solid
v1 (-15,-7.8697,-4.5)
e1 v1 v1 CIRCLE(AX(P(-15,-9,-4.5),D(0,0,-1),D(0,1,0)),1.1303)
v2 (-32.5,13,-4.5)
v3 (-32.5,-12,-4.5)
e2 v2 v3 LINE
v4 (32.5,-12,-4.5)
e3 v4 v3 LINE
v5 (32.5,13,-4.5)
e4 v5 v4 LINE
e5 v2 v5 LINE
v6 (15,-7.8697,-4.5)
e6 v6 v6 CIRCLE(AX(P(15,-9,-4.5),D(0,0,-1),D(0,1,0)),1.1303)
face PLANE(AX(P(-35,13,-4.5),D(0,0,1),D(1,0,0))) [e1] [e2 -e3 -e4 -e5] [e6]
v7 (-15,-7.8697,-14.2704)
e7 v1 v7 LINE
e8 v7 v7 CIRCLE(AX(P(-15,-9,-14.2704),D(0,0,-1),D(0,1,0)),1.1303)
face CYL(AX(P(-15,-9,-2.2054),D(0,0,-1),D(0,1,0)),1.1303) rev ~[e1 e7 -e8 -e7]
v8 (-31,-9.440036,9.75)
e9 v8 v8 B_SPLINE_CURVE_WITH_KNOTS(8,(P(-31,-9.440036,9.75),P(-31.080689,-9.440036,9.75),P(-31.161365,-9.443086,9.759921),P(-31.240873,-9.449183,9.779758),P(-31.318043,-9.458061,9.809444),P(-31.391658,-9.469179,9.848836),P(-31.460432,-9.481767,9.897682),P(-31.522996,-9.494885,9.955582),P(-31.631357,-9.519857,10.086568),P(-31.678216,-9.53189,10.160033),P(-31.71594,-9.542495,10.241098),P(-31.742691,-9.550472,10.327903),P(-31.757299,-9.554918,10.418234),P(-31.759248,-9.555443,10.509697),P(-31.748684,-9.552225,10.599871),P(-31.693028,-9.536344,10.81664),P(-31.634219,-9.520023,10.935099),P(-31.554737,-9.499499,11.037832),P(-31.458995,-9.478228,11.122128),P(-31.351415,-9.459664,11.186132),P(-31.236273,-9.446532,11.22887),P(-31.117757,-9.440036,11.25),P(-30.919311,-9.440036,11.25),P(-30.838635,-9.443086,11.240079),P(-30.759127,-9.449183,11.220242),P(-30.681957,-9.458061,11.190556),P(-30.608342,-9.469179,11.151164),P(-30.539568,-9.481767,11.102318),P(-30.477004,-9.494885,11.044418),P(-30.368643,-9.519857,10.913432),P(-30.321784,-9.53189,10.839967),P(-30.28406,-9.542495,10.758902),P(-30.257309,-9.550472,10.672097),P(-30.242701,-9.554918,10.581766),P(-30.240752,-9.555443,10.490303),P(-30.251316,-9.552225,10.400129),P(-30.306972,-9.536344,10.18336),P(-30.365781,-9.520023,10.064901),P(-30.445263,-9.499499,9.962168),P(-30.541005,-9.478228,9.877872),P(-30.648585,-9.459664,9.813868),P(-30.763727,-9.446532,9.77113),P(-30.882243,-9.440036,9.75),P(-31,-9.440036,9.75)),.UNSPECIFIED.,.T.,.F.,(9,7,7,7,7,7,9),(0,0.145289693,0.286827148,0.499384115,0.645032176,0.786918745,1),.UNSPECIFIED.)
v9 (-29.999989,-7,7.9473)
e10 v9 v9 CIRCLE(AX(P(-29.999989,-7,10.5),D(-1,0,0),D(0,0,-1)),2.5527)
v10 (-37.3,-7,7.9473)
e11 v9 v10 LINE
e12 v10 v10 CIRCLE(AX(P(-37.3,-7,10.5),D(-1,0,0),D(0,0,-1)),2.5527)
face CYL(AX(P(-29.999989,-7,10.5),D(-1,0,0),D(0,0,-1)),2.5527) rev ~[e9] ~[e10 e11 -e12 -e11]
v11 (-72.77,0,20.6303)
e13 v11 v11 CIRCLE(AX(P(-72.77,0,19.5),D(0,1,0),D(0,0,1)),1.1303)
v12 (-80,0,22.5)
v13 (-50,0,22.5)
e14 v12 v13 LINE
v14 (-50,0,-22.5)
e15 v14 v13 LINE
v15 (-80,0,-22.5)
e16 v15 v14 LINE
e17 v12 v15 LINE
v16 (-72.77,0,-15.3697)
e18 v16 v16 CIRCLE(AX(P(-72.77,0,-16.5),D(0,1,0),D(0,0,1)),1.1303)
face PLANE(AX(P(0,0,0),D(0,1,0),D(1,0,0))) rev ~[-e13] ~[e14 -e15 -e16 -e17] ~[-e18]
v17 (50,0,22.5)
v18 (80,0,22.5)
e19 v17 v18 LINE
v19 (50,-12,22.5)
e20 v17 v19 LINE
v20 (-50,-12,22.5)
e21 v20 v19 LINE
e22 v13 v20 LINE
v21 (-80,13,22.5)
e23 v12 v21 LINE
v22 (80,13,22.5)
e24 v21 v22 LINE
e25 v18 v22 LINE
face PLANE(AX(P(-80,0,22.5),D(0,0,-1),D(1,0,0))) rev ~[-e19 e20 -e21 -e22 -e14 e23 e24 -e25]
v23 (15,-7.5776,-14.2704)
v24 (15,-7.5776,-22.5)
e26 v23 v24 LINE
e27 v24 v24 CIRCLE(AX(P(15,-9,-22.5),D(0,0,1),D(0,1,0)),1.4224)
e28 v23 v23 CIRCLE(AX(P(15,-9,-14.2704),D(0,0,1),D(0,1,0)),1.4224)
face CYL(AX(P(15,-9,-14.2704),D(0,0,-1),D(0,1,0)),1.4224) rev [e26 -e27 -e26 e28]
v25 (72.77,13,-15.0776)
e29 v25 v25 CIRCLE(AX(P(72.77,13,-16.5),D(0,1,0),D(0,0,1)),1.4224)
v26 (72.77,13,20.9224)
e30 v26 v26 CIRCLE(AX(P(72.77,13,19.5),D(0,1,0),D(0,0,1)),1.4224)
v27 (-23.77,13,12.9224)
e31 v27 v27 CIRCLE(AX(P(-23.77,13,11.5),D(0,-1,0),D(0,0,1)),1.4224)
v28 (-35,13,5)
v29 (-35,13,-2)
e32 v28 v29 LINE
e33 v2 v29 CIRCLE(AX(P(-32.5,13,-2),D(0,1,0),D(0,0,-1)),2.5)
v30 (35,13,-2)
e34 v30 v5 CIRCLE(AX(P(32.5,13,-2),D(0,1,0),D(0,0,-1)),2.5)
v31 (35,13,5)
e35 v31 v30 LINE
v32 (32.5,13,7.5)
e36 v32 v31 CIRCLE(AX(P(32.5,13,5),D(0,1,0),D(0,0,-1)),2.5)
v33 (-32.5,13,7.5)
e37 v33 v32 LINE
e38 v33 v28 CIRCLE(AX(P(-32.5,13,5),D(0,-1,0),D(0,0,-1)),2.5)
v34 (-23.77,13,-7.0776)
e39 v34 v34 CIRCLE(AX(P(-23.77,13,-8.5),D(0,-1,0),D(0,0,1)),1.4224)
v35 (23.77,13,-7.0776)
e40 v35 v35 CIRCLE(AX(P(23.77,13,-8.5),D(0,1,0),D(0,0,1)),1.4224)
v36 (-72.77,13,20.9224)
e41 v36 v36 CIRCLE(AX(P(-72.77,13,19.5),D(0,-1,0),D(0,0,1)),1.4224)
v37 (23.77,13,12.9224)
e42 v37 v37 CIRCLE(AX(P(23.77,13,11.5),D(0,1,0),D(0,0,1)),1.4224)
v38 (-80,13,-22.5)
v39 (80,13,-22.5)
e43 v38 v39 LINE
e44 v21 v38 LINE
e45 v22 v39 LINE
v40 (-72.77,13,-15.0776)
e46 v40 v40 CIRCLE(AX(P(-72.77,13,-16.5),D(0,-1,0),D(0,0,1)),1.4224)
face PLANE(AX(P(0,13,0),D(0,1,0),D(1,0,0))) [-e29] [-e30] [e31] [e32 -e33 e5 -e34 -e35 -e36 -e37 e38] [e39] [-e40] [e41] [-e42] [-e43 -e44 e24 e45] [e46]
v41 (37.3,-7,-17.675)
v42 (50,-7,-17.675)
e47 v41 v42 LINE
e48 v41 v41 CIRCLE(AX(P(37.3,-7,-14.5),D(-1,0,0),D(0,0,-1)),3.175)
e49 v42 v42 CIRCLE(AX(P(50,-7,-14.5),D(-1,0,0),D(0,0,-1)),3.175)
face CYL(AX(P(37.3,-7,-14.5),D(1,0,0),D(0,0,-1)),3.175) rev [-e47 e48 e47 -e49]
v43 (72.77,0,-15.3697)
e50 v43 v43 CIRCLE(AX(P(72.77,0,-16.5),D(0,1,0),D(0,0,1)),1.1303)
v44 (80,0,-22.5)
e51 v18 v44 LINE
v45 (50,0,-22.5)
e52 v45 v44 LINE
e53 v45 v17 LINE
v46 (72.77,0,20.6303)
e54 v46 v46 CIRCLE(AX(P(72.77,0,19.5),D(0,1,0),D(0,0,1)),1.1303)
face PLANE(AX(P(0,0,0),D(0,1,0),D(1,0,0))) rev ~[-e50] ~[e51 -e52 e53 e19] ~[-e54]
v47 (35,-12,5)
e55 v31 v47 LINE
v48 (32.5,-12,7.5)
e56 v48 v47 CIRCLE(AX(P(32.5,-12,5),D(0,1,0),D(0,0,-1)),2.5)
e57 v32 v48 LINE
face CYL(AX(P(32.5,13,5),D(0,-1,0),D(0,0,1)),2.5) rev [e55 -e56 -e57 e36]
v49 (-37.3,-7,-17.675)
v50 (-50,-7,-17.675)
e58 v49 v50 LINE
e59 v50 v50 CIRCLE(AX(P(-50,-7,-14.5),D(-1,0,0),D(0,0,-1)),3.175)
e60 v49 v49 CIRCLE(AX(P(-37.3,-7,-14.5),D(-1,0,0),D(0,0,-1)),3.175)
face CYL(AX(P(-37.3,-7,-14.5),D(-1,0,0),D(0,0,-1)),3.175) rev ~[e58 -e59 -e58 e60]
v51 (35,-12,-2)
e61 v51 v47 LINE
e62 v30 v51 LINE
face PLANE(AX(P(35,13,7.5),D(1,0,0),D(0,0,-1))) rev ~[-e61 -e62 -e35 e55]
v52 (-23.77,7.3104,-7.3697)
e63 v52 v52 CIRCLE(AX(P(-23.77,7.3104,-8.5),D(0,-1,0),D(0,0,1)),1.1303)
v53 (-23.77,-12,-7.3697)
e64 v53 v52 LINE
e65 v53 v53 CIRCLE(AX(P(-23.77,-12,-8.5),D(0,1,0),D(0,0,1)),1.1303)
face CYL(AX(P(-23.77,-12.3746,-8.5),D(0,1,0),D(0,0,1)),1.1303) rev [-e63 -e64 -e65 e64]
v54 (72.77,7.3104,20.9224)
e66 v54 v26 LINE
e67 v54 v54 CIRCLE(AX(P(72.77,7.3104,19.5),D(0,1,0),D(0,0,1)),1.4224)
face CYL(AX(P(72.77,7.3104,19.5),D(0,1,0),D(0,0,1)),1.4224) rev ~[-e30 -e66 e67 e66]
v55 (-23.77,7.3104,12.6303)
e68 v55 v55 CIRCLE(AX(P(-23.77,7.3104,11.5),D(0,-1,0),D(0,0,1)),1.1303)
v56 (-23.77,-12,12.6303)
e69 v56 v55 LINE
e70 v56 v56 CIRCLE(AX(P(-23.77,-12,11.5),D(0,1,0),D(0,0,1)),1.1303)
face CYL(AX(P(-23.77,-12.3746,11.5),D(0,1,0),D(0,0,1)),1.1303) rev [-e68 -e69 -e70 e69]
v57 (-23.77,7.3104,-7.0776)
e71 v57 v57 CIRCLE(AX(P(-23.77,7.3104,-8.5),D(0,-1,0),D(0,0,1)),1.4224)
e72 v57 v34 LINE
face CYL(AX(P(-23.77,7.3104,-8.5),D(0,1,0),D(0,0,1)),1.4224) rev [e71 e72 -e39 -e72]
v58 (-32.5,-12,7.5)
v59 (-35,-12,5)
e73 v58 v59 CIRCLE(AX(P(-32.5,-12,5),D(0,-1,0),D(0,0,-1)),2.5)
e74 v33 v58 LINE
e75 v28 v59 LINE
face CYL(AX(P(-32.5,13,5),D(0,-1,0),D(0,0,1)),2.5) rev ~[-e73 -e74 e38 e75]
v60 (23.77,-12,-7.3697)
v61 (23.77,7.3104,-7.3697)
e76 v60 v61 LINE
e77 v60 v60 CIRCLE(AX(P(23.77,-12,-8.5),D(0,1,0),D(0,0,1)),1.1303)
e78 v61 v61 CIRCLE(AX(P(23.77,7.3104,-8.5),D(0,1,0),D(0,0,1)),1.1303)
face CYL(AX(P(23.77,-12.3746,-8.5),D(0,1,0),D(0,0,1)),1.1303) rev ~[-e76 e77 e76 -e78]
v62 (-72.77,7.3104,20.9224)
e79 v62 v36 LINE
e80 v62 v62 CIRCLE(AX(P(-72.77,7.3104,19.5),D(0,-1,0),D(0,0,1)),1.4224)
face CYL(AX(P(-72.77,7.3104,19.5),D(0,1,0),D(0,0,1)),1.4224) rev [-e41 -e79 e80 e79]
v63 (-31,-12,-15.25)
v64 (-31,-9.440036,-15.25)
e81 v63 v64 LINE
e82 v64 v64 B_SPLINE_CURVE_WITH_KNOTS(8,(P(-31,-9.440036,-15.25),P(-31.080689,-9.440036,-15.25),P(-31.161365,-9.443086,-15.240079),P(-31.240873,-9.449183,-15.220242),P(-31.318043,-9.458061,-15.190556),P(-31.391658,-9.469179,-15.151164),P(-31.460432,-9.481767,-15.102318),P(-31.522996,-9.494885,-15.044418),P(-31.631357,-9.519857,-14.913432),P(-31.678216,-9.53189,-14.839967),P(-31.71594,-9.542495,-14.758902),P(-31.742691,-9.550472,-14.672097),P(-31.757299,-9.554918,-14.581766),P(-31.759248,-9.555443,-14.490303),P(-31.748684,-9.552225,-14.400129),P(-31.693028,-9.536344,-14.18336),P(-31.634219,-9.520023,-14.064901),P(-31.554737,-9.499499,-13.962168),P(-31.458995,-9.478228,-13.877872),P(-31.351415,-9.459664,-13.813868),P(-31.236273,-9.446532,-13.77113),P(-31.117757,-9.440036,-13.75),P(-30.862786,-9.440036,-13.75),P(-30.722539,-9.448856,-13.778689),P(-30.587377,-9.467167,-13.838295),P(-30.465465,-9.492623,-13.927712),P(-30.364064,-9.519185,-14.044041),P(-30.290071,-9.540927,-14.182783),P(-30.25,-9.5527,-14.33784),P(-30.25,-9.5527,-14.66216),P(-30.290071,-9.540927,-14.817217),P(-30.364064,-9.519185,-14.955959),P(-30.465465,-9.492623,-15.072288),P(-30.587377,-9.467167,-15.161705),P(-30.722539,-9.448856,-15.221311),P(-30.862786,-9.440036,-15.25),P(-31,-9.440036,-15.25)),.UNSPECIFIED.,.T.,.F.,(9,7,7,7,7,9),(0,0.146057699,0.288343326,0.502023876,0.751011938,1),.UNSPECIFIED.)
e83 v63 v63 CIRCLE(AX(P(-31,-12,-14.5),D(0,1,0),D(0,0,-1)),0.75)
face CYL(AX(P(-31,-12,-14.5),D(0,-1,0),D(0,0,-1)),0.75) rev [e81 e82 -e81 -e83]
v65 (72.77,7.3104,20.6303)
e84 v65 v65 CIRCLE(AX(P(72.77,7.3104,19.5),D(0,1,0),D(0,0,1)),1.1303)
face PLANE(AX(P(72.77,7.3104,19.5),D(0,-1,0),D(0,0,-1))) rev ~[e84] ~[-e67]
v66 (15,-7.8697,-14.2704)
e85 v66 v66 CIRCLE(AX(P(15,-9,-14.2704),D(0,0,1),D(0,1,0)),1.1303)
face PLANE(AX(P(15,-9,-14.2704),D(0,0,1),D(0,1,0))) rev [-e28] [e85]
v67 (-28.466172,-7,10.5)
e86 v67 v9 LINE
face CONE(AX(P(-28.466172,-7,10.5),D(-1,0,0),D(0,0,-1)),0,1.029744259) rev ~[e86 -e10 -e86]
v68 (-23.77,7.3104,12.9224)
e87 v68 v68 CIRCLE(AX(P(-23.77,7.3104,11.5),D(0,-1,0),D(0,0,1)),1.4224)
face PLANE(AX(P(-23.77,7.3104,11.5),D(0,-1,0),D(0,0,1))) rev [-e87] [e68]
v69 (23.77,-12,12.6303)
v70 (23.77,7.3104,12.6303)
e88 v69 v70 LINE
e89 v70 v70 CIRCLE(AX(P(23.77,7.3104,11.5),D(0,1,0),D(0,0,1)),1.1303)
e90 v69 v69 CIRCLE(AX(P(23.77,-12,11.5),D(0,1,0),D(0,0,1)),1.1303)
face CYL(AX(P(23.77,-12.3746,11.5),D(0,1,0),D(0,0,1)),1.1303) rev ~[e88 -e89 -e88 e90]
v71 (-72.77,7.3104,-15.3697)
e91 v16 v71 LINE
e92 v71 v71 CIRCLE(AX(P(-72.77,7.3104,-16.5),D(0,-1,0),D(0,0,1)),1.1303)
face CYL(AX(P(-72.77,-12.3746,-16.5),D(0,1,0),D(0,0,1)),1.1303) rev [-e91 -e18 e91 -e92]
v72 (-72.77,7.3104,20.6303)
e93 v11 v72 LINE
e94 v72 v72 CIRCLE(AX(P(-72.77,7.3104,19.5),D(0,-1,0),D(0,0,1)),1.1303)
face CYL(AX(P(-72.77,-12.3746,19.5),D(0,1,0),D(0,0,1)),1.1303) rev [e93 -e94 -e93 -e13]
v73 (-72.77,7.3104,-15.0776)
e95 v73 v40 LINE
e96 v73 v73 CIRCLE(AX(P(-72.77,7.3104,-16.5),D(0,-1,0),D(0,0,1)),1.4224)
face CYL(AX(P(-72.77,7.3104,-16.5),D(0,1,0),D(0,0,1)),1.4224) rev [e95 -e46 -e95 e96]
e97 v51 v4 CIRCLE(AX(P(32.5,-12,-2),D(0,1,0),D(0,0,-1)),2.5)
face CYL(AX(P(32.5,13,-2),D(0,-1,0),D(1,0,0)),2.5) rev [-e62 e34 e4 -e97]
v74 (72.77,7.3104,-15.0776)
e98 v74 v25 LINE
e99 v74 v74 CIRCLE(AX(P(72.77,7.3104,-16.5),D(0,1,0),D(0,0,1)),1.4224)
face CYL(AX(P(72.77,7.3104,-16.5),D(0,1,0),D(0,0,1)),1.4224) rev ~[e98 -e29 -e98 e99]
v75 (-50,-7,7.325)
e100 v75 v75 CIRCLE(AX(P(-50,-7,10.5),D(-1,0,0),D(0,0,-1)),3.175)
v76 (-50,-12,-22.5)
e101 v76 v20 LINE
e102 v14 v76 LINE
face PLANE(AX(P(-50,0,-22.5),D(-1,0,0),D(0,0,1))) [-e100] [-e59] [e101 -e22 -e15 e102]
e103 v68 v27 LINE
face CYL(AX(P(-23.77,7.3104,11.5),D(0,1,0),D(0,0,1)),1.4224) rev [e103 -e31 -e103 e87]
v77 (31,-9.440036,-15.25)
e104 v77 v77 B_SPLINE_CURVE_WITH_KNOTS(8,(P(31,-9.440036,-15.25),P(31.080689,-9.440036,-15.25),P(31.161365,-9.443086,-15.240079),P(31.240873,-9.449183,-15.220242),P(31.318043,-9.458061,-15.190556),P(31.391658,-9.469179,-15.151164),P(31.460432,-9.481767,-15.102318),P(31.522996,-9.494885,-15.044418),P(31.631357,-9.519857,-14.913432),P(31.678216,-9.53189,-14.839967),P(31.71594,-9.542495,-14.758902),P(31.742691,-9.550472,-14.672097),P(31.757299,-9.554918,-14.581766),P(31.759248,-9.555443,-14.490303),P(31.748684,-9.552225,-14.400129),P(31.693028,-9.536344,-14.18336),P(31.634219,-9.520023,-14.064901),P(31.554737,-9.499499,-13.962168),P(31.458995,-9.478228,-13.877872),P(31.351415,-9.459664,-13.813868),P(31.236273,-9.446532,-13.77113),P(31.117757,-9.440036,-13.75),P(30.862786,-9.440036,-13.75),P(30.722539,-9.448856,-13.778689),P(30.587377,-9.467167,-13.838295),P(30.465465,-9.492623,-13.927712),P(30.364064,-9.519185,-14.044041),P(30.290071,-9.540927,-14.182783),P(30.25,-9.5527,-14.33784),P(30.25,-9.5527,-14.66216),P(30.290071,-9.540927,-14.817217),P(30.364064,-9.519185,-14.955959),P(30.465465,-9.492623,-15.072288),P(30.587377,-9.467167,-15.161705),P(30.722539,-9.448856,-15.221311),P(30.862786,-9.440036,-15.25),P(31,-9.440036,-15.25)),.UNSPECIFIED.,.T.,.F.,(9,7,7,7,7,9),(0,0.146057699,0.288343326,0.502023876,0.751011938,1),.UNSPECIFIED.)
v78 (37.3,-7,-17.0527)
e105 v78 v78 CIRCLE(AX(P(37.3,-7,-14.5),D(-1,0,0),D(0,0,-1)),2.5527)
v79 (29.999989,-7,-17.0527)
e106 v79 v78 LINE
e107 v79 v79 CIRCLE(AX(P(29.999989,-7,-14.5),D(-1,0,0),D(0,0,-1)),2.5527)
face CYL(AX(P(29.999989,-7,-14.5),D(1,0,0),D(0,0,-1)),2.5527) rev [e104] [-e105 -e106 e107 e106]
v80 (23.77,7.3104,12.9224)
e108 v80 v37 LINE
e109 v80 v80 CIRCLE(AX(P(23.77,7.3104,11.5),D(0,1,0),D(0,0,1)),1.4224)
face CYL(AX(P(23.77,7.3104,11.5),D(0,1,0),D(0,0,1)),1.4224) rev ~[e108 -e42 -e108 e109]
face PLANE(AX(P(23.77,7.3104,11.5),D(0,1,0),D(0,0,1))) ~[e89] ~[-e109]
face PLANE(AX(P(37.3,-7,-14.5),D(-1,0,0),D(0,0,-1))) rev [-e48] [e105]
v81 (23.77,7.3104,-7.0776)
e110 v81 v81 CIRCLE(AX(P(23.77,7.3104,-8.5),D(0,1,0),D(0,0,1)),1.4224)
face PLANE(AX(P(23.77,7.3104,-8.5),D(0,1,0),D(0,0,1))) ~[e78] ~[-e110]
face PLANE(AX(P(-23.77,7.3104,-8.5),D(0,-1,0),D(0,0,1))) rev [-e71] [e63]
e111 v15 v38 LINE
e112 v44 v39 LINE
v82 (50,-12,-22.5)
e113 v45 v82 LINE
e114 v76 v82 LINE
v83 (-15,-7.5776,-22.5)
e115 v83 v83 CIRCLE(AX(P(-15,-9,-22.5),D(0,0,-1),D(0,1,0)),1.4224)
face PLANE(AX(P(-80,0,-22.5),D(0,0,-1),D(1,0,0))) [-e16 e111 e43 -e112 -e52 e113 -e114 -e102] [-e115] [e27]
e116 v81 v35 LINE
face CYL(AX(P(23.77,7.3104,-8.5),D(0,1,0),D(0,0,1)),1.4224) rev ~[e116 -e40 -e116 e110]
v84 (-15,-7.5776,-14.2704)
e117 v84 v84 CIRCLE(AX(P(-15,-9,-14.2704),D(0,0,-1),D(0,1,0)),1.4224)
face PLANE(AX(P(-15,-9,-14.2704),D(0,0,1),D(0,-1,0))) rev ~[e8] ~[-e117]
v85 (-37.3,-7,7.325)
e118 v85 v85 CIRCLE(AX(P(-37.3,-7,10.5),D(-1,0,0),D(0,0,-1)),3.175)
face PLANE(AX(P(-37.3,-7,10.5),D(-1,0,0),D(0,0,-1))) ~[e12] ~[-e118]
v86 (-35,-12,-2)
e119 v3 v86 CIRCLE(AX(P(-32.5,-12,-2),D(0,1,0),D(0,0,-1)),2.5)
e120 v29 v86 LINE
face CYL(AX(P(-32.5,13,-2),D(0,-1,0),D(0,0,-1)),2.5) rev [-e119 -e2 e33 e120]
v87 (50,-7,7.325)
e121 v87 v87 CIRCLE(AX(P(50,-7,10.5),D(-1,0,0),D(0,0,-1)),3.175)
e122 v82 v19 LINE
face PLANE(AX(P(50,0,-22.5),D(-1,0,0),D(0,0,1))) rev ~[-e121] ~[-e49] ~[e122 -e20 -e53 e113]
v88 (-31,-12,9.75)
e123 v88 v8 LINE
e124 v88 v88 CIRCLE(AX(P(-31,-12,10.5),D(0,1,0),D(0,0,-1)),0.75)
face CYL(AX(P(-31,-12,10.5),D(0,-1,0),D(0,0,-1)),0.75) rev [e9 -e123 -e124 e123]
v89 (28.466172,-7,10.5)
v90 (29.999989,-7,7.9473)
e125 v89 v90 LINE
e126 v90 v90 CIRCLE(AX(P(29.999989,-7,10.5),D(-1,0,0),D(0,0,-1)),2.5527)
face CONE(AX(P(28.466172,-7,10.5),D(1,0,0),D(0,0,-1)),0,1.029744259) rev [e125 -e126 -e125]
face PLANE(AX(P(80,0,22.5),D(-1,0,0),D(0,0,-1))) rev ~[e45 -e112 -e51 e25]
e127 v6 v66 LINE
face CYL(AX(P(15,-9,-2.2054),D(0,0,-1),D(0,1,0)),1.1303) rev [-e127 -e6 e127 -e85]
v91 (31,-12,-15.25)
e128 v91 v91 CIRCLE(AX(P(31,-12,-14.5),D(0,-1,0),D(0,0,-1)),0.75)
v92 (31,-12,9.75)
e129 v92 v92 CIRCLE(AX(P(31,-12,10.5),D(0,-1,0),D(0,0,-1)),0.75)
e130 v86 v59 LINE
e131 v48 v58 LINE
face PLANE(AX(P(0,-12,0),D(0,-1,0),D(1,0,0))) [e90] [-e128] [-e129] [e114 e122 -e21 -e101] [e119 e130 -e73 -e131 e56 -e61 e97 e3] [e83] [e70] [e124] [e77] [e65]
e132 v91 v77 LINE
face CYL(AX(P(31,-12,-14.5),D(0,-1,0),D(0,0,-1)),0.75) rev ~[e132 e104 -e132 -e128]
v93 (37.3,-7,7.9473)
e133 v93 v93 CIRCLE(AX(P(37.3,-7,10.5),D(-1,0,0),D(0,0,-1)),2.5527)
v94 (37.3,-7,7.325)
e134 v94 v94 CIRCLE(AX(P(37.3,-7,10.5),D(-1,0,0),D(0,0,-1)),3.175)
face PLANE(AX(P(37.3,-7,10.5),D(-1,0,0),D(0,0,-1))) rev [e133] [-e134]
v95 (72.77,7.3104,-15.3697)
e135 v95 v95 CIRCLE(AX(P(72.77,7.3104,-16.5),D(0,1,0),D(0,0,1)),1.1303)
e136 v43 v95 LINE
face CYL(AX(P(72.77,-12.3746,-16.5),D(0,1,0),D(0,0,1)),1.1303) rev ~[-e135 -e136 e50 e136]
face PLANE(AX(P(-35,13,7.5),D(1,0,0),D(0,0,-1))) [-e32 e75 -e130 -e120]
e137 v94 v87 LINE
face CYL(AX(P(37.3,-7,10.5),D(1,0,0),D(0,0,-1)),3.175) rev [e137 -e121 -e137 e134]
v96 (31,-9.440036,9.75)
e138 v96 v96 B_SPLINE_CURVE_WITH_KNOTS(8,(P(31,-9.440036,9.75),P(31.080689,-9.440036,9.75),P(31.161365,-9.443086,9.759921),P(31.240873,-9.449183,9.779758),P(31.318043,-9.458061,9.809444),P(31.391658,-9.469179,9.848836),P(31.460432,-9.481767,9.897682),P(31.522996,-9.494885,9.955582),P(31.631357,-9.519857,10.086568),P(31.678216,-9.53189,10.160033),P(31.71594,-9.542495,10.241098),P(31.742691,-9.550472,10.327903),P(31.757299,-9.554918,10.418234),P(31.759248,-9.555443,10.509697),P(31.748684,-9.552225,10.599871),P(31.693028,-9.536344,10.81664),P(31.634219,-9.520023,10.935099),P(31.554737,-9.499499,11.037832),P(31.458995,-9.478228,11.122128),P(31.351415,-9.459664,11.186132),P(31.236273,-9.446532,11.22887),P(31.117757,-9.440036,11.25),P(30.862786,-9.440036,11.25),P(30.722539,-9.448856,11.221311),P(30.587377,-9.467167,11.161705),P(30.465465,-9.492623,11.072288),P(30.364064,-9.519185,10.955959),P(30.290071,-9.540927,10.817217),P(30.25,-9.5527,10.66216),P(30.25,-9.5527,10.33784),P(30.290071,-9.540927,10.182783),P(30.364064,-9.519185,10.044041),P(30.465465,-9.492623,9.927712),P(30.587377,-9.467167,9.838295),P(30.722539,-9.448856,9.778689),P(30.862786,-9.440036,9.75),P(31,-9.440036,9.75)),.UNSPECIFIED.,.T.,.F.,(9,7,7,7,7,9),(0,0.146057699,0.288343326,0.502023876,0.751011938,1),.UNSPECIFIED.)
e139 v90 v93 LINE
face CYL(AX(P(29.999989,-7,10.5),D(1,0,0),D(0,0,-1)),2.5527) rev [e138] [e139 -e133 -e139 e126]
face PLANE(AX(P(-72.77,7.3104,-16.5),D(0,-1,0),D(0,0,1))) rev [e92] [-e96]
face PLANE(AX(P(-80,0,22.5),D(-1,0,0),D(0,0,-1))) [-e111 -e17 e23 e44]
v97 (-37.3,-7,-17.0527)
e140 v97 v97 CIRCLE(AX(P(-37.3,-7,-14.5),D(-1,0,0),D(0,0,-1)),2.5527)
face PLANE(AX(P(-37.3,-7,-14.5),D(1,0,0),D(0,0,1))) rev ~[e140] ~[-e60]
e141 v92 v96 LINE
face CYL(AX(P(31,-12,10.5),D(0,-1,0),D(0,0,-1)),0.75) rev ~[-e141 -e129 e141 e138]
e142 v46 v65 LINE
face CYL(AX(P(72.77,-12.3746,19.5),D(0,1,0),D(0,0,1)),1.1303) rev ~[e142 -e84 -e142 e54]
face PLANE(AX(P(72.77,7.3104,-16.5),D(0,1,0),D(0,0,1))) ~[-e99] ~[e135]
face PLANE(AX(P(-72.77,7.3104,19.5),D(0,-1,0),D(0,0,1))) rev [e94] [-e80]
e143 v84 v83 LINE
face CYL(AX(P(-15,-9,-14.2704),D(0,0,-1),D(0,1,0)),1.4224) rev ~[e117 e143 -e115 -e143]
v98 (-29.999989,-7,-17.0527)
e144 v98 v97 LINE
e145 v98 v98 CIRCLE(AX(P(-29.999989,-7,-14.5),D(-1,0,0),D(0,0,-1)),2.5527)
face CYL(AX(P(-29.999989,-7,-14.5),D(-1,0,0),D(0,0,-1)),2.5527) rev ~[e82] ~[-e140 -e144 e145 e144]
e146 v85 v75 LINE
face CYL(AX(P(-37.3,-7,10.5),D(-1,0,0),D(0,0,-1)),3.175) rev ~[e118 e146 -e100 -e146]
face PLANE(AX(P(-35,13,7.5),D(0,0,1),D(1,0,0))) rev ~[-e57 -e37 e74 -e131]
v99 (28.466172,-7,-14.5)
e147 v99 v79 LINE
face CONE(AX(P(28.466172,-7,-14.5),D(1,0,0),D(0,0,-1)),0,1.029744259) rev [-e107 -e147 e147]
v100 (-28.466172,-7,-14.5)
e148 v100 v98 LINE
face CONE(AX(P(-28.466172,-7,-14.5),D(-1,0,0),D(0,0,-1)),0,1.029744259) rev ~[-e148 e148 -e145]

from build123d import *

# Parameters (mm, degrees)
SKETCH1_W                        = 160
SKETCH1_H                        = 45
EXTRUDE1_DEPTH                   = 13
SKETCH2_W                        = 100
SKETCH2_H                        = 45
EXTRUDE2_DEPTH                   = 12
SKETCH3_W                        = 70
SKETCH3_H                        = 12
EXTRUDE3_DEPTH                   = 26
FILLET1_R                        = 2.5
F_4_40_TAPPED_HOLE1_AT_2_COUNT   = 2
F_4_40_TAPPED_HOLE1_AT_2_PITCH   = 49.648766349
F_4_40_TAPPED_HOLE1_AT_3_COUNT   = 2
F_4_40_TAPPED_HOLE1_AT_3_PITCH   = 56.435804238
F_4_40_TAPPED_HOLE1_AT_4_COUNT   = 2
F_4_40_TAPPED_HOLE1_AT_4_PITCH   = 36
F_1_4_20_TAPPED_HOLE1_AT_2_COUNT = 2
F_1_4_20_TAPPED_HOLE1_AT_2_PITCH = 25
SKETCH7_R                        = 0.75
EXTRUDE4_DEPTH                   = 7


with BuildPart() as part:
    # Sketch1 → Extrude1 (new body)
    with BuildSketch(Plane(origin=(0, 0, 0), x_dir=(1, 0, 0), z_dir=(0, 1, 0))):
        Rectangle(SKETCH1_W, SKETCH1_H)
    extrude(amount=EXTRUDE1_DEPTH)

    # Sketch2 → Extrude2 (add)
    with BuildSketch(Plane.XZ):
        Rectangle(SKETCH2_W, SKETCH2_H)
    extrude(amount=EXTRUDE2_DEPTH)

    # Sketch3 → Extrude3 (cut, through all)
    with BuildSketch(Plane(origin=(0, 13, 0), x_dir=(1, 0, 0), z_dir=(0, 1, 0))):
        with Locations((0, -1.5)):
            Rectangle(SKETCH3_W, SKETCH3_H)
    extrude(amount=-EXTRUDE3_DEPTH, mode=Mode.SUBTRACT)

    # Fillet1
    fillet1_edges = [part.edges().sort_by_distance(p)[0] for p in [
        (-35, 0.5, 7.5),
        (-35, 0.5, -4.5),
        (35, 0.5, -4.5),
        (35, 0.5, 7.5),
    ]]
    fillet(fillet1_edges, radius=FILLET1_R)

    # Sketch5 → #4-40 Tapped Hole1 (revolve, cut)
    with BuildSketch(Plane(origin=(-72.77, 13, 19.5), x_dir=(0, 0, 1), z_dir=(1, 0, 0))):
        Polygon((0, 0), (0, 26.053752758), (1.1303, 25.3746), (1.1303, 5.6896), (1.4224, 5.6896), (1.4224, 0), align=None)
    f_4_40_tapped_hole1 = revolve(axis=Axis((-72.77, 19.35, 19.5), (0, -1, 0)), mode=Mode.SUBTRACT)

    # #4-40 Tapped Hole1 at 2: #4-40 Tapped Hole1 ×2
    with Locations(*[Vector(0.986932881, 0, -0.161131899) * (i * F_4_40_TAPPED_HOLE1_AT_2_PITCH) for i in range(1, F_4_40_TAPPED_HOLE1_AT_2_COUNT)]):
        add(f_4_40_tapped_hole1, mode=Mode.SUBTRACT)

    # #4-40 Tapped Hole1 at 3: #4-40 Tapped Hole1 ×2
    with Locations(*[Vector(0.868243142, 0, -0.496138938) * (i * F_4_40_TAPPED_HOLE1_AT_3_PITCH) for i in range(1, F_4_40_TAPPED_HOLE1_AT_3_COUNT)]):
        add(f_4_40_tapped_hole1, mode=Mode.SUBTRACT)

    # #4-40 Tapped Hole1 at 4: #4-40 Tapped Hole1 ×2
    with Locations(*[(0, 0, -i * F_4_40_TAPPED_HOLE1_AT_4_PITCH) for i in range(1, F_4_40_TAPPED_HOLE1_AT_4_COUNT)]):
        add(f_4_40_tapped_hole1, mode=Mode.SUBTRACT)

    # Mirror1: #4-40 Tapped Hole1 across plane
    add(f_4_40_tapped_hole1.mirror(Plane(origin=(0, 0, 0), x_dir=(0, 0, 1), z_dir=(1, 0, 0))), mode=Mode.SUBTRACT)

    # Mirror1 copy 1 sketch → Mirror1 copy 1 (revolve, cut)
    with BuildSketch(Plane(origin=(23.77, 13, 11.5), x_dir=(0, 0, 1), z_dir=(-1, 0, 0))):
        Polygon((0, 0), (0, -26.053752758), (1.1303, -25.3746), (1.1303, -5.6896), (1.4224, -5.6896), (1.4224, 0), align=None)
    revolve(axis=Axis((23.77, 19.35, 11.5), (0, 1, 0)), mode=Mode.SUBTRACT)

    # Mirror1 copy 2 sketch → Mirror1 copy 2 (revolve, cut)
    with BuildSketch(Plane(origin=(23.77, 13, -8.5), x_dir=(0, 0, 1), z_dir=(-1, 0, 0))):
        Polygon((0, 0), (0, -26.053752758), (1.1303, -25.3746), (1.1303, -5.6896), (1.4224, -5.6896), (1.4224, 0), align=None)
    revolve(axis=Axis((23.77, 19.35, -8.5), (0, 1, 0)), mode=Mode.SUBTRACT)

    # Mirror1 copy 3 sketch → Mirror1 copy 3 (revolve, cut)
    with BuildSketch(Plane(origin=(72.77, 13, -16.5), x_dir=(0, 0, 1), z_dir=(-1, 0, 0))):
        Polygon((0, 0), (0, -26.053752758), (1.1303, -25.3746), (1.1303, -5.6896), (1.4224, -5.6896), (1.4224, 0), align=None)
    revolve(axis=Axis((72.77, 19.35, -16.5), (0, 1, 0)), mode=Mode.SUBTRACT)

    # Sketch6 → 1/4-20 Tapped Hole1 (revolve, cut)
    with BuildSketch(Plane(origin=(50, -7, -14.5), x_dir=(0, 0, -1), z_dir=(0, 1, 0))):
        Polygon((0, 0), (0, 21.533827702), (2.5527, 20.0000108), (2.5527, 12.7), (3.175, 12.7), (3.175, 0), align=None)
    f_1_4_20_tapped_hole1 = revolve(axis=Axis((56.35, -7, -14.5), (-1, 0, 0)), mode=Mode.SUBTRACT)

    # 1/4-20 Tapped Hole1 at 2: 1/4-20 Tapped Hole1 ×2
    with Locations(*[(0, 0, i * F_1_4_20_TAPPED_HOLE1_AT_2_PITCH) for i in range(1, F_1_4_20_TAPPED_HOLE1_AT_2_COUNT)]):
        add(f_1_4_20_tapped_hole1, mode=Mode.SUBTRACT)

    # Sketch7 → Extrude4 (cut)
    with BuildSketch(Plane.XZ.offset(12)):
        with Locations(Location((31, -14.5, 0), (0, 0, 270))):  # turned: the seam where the file's is
            Circle(SKETCH7_R)
        with Locations(Location((31, 10.5, 0), (0, 0, 270))):  # turned: the seam where the file's is
            Circle(SKETCH7_R)
    extrude4 = extrude(amount=-EXTRUDE4_DEPTH, mode=Mode.SUBTRACT)

    # Mirror2: Extrude4, 1/4-20 Tapped Hole1 across plane
    add(extrude4.mirror(Plane(origin=(0, 0, 0), x_dir=(0, 0, 1), z_dir=(1, 0, 0))), mode=Mode.SUBTRACT)
    add(f_1_4_20_tapped_hole1.mirror(Plane(origin=(0, 0, 0), x_dir=(0, 0, 1), z_dir=(1, 0, 0))), mode=Mode.SUBTRACT)

    # Mirror2 copy 1 sketch → Mirror2 copy 1 (revolve, cut)
    with BuildSketch(Plane(origin=(-50, -7, 10.5), x_dir=(0, 0, -1), z_dir=(0, 1, 0))):
        Polygon((0, 0), (0, -21.533827702), (2.5527, -20.0000108), (2.5527, -12.7), (3.175, -12.7), (3.175, 0), align=None)
    revolve(axis=Axis((-56.35, -7, 10.5), (-1, 0, 0)), mode=Mode.SUBTRACT)

    # Sketch8 → #4-40 Tapped Hole2 (revolve, cut)
    with BuildSketch(Plane(origin=(15, -9, -22.5), x_dir=(0, 1, 0), z_dir=(1, 0, 0))):
        Polygon((0, 0), (0, 20.973752758), (1.1303, 20.2946), (1.1303, 8.2296), (1.4224, 8.2296), (1.4224, 0), align=None)
    f_4_40_tapped_hole2 = revolve(axis=Axis((15, -9, -28.85), (0, 0, 1)), mode=Mode.SUBTRACT)

    # Mirror3: #4-40 Tapped Hole2 across plane
    add(f_4_40_tapped_hole2.mirror(Plane(origin=(0, 0, 0), x_dir=(0, 0, 1), z_dir=(1, 0, 0))), mode=Mode.SUBTRACT)


solid = part.part
